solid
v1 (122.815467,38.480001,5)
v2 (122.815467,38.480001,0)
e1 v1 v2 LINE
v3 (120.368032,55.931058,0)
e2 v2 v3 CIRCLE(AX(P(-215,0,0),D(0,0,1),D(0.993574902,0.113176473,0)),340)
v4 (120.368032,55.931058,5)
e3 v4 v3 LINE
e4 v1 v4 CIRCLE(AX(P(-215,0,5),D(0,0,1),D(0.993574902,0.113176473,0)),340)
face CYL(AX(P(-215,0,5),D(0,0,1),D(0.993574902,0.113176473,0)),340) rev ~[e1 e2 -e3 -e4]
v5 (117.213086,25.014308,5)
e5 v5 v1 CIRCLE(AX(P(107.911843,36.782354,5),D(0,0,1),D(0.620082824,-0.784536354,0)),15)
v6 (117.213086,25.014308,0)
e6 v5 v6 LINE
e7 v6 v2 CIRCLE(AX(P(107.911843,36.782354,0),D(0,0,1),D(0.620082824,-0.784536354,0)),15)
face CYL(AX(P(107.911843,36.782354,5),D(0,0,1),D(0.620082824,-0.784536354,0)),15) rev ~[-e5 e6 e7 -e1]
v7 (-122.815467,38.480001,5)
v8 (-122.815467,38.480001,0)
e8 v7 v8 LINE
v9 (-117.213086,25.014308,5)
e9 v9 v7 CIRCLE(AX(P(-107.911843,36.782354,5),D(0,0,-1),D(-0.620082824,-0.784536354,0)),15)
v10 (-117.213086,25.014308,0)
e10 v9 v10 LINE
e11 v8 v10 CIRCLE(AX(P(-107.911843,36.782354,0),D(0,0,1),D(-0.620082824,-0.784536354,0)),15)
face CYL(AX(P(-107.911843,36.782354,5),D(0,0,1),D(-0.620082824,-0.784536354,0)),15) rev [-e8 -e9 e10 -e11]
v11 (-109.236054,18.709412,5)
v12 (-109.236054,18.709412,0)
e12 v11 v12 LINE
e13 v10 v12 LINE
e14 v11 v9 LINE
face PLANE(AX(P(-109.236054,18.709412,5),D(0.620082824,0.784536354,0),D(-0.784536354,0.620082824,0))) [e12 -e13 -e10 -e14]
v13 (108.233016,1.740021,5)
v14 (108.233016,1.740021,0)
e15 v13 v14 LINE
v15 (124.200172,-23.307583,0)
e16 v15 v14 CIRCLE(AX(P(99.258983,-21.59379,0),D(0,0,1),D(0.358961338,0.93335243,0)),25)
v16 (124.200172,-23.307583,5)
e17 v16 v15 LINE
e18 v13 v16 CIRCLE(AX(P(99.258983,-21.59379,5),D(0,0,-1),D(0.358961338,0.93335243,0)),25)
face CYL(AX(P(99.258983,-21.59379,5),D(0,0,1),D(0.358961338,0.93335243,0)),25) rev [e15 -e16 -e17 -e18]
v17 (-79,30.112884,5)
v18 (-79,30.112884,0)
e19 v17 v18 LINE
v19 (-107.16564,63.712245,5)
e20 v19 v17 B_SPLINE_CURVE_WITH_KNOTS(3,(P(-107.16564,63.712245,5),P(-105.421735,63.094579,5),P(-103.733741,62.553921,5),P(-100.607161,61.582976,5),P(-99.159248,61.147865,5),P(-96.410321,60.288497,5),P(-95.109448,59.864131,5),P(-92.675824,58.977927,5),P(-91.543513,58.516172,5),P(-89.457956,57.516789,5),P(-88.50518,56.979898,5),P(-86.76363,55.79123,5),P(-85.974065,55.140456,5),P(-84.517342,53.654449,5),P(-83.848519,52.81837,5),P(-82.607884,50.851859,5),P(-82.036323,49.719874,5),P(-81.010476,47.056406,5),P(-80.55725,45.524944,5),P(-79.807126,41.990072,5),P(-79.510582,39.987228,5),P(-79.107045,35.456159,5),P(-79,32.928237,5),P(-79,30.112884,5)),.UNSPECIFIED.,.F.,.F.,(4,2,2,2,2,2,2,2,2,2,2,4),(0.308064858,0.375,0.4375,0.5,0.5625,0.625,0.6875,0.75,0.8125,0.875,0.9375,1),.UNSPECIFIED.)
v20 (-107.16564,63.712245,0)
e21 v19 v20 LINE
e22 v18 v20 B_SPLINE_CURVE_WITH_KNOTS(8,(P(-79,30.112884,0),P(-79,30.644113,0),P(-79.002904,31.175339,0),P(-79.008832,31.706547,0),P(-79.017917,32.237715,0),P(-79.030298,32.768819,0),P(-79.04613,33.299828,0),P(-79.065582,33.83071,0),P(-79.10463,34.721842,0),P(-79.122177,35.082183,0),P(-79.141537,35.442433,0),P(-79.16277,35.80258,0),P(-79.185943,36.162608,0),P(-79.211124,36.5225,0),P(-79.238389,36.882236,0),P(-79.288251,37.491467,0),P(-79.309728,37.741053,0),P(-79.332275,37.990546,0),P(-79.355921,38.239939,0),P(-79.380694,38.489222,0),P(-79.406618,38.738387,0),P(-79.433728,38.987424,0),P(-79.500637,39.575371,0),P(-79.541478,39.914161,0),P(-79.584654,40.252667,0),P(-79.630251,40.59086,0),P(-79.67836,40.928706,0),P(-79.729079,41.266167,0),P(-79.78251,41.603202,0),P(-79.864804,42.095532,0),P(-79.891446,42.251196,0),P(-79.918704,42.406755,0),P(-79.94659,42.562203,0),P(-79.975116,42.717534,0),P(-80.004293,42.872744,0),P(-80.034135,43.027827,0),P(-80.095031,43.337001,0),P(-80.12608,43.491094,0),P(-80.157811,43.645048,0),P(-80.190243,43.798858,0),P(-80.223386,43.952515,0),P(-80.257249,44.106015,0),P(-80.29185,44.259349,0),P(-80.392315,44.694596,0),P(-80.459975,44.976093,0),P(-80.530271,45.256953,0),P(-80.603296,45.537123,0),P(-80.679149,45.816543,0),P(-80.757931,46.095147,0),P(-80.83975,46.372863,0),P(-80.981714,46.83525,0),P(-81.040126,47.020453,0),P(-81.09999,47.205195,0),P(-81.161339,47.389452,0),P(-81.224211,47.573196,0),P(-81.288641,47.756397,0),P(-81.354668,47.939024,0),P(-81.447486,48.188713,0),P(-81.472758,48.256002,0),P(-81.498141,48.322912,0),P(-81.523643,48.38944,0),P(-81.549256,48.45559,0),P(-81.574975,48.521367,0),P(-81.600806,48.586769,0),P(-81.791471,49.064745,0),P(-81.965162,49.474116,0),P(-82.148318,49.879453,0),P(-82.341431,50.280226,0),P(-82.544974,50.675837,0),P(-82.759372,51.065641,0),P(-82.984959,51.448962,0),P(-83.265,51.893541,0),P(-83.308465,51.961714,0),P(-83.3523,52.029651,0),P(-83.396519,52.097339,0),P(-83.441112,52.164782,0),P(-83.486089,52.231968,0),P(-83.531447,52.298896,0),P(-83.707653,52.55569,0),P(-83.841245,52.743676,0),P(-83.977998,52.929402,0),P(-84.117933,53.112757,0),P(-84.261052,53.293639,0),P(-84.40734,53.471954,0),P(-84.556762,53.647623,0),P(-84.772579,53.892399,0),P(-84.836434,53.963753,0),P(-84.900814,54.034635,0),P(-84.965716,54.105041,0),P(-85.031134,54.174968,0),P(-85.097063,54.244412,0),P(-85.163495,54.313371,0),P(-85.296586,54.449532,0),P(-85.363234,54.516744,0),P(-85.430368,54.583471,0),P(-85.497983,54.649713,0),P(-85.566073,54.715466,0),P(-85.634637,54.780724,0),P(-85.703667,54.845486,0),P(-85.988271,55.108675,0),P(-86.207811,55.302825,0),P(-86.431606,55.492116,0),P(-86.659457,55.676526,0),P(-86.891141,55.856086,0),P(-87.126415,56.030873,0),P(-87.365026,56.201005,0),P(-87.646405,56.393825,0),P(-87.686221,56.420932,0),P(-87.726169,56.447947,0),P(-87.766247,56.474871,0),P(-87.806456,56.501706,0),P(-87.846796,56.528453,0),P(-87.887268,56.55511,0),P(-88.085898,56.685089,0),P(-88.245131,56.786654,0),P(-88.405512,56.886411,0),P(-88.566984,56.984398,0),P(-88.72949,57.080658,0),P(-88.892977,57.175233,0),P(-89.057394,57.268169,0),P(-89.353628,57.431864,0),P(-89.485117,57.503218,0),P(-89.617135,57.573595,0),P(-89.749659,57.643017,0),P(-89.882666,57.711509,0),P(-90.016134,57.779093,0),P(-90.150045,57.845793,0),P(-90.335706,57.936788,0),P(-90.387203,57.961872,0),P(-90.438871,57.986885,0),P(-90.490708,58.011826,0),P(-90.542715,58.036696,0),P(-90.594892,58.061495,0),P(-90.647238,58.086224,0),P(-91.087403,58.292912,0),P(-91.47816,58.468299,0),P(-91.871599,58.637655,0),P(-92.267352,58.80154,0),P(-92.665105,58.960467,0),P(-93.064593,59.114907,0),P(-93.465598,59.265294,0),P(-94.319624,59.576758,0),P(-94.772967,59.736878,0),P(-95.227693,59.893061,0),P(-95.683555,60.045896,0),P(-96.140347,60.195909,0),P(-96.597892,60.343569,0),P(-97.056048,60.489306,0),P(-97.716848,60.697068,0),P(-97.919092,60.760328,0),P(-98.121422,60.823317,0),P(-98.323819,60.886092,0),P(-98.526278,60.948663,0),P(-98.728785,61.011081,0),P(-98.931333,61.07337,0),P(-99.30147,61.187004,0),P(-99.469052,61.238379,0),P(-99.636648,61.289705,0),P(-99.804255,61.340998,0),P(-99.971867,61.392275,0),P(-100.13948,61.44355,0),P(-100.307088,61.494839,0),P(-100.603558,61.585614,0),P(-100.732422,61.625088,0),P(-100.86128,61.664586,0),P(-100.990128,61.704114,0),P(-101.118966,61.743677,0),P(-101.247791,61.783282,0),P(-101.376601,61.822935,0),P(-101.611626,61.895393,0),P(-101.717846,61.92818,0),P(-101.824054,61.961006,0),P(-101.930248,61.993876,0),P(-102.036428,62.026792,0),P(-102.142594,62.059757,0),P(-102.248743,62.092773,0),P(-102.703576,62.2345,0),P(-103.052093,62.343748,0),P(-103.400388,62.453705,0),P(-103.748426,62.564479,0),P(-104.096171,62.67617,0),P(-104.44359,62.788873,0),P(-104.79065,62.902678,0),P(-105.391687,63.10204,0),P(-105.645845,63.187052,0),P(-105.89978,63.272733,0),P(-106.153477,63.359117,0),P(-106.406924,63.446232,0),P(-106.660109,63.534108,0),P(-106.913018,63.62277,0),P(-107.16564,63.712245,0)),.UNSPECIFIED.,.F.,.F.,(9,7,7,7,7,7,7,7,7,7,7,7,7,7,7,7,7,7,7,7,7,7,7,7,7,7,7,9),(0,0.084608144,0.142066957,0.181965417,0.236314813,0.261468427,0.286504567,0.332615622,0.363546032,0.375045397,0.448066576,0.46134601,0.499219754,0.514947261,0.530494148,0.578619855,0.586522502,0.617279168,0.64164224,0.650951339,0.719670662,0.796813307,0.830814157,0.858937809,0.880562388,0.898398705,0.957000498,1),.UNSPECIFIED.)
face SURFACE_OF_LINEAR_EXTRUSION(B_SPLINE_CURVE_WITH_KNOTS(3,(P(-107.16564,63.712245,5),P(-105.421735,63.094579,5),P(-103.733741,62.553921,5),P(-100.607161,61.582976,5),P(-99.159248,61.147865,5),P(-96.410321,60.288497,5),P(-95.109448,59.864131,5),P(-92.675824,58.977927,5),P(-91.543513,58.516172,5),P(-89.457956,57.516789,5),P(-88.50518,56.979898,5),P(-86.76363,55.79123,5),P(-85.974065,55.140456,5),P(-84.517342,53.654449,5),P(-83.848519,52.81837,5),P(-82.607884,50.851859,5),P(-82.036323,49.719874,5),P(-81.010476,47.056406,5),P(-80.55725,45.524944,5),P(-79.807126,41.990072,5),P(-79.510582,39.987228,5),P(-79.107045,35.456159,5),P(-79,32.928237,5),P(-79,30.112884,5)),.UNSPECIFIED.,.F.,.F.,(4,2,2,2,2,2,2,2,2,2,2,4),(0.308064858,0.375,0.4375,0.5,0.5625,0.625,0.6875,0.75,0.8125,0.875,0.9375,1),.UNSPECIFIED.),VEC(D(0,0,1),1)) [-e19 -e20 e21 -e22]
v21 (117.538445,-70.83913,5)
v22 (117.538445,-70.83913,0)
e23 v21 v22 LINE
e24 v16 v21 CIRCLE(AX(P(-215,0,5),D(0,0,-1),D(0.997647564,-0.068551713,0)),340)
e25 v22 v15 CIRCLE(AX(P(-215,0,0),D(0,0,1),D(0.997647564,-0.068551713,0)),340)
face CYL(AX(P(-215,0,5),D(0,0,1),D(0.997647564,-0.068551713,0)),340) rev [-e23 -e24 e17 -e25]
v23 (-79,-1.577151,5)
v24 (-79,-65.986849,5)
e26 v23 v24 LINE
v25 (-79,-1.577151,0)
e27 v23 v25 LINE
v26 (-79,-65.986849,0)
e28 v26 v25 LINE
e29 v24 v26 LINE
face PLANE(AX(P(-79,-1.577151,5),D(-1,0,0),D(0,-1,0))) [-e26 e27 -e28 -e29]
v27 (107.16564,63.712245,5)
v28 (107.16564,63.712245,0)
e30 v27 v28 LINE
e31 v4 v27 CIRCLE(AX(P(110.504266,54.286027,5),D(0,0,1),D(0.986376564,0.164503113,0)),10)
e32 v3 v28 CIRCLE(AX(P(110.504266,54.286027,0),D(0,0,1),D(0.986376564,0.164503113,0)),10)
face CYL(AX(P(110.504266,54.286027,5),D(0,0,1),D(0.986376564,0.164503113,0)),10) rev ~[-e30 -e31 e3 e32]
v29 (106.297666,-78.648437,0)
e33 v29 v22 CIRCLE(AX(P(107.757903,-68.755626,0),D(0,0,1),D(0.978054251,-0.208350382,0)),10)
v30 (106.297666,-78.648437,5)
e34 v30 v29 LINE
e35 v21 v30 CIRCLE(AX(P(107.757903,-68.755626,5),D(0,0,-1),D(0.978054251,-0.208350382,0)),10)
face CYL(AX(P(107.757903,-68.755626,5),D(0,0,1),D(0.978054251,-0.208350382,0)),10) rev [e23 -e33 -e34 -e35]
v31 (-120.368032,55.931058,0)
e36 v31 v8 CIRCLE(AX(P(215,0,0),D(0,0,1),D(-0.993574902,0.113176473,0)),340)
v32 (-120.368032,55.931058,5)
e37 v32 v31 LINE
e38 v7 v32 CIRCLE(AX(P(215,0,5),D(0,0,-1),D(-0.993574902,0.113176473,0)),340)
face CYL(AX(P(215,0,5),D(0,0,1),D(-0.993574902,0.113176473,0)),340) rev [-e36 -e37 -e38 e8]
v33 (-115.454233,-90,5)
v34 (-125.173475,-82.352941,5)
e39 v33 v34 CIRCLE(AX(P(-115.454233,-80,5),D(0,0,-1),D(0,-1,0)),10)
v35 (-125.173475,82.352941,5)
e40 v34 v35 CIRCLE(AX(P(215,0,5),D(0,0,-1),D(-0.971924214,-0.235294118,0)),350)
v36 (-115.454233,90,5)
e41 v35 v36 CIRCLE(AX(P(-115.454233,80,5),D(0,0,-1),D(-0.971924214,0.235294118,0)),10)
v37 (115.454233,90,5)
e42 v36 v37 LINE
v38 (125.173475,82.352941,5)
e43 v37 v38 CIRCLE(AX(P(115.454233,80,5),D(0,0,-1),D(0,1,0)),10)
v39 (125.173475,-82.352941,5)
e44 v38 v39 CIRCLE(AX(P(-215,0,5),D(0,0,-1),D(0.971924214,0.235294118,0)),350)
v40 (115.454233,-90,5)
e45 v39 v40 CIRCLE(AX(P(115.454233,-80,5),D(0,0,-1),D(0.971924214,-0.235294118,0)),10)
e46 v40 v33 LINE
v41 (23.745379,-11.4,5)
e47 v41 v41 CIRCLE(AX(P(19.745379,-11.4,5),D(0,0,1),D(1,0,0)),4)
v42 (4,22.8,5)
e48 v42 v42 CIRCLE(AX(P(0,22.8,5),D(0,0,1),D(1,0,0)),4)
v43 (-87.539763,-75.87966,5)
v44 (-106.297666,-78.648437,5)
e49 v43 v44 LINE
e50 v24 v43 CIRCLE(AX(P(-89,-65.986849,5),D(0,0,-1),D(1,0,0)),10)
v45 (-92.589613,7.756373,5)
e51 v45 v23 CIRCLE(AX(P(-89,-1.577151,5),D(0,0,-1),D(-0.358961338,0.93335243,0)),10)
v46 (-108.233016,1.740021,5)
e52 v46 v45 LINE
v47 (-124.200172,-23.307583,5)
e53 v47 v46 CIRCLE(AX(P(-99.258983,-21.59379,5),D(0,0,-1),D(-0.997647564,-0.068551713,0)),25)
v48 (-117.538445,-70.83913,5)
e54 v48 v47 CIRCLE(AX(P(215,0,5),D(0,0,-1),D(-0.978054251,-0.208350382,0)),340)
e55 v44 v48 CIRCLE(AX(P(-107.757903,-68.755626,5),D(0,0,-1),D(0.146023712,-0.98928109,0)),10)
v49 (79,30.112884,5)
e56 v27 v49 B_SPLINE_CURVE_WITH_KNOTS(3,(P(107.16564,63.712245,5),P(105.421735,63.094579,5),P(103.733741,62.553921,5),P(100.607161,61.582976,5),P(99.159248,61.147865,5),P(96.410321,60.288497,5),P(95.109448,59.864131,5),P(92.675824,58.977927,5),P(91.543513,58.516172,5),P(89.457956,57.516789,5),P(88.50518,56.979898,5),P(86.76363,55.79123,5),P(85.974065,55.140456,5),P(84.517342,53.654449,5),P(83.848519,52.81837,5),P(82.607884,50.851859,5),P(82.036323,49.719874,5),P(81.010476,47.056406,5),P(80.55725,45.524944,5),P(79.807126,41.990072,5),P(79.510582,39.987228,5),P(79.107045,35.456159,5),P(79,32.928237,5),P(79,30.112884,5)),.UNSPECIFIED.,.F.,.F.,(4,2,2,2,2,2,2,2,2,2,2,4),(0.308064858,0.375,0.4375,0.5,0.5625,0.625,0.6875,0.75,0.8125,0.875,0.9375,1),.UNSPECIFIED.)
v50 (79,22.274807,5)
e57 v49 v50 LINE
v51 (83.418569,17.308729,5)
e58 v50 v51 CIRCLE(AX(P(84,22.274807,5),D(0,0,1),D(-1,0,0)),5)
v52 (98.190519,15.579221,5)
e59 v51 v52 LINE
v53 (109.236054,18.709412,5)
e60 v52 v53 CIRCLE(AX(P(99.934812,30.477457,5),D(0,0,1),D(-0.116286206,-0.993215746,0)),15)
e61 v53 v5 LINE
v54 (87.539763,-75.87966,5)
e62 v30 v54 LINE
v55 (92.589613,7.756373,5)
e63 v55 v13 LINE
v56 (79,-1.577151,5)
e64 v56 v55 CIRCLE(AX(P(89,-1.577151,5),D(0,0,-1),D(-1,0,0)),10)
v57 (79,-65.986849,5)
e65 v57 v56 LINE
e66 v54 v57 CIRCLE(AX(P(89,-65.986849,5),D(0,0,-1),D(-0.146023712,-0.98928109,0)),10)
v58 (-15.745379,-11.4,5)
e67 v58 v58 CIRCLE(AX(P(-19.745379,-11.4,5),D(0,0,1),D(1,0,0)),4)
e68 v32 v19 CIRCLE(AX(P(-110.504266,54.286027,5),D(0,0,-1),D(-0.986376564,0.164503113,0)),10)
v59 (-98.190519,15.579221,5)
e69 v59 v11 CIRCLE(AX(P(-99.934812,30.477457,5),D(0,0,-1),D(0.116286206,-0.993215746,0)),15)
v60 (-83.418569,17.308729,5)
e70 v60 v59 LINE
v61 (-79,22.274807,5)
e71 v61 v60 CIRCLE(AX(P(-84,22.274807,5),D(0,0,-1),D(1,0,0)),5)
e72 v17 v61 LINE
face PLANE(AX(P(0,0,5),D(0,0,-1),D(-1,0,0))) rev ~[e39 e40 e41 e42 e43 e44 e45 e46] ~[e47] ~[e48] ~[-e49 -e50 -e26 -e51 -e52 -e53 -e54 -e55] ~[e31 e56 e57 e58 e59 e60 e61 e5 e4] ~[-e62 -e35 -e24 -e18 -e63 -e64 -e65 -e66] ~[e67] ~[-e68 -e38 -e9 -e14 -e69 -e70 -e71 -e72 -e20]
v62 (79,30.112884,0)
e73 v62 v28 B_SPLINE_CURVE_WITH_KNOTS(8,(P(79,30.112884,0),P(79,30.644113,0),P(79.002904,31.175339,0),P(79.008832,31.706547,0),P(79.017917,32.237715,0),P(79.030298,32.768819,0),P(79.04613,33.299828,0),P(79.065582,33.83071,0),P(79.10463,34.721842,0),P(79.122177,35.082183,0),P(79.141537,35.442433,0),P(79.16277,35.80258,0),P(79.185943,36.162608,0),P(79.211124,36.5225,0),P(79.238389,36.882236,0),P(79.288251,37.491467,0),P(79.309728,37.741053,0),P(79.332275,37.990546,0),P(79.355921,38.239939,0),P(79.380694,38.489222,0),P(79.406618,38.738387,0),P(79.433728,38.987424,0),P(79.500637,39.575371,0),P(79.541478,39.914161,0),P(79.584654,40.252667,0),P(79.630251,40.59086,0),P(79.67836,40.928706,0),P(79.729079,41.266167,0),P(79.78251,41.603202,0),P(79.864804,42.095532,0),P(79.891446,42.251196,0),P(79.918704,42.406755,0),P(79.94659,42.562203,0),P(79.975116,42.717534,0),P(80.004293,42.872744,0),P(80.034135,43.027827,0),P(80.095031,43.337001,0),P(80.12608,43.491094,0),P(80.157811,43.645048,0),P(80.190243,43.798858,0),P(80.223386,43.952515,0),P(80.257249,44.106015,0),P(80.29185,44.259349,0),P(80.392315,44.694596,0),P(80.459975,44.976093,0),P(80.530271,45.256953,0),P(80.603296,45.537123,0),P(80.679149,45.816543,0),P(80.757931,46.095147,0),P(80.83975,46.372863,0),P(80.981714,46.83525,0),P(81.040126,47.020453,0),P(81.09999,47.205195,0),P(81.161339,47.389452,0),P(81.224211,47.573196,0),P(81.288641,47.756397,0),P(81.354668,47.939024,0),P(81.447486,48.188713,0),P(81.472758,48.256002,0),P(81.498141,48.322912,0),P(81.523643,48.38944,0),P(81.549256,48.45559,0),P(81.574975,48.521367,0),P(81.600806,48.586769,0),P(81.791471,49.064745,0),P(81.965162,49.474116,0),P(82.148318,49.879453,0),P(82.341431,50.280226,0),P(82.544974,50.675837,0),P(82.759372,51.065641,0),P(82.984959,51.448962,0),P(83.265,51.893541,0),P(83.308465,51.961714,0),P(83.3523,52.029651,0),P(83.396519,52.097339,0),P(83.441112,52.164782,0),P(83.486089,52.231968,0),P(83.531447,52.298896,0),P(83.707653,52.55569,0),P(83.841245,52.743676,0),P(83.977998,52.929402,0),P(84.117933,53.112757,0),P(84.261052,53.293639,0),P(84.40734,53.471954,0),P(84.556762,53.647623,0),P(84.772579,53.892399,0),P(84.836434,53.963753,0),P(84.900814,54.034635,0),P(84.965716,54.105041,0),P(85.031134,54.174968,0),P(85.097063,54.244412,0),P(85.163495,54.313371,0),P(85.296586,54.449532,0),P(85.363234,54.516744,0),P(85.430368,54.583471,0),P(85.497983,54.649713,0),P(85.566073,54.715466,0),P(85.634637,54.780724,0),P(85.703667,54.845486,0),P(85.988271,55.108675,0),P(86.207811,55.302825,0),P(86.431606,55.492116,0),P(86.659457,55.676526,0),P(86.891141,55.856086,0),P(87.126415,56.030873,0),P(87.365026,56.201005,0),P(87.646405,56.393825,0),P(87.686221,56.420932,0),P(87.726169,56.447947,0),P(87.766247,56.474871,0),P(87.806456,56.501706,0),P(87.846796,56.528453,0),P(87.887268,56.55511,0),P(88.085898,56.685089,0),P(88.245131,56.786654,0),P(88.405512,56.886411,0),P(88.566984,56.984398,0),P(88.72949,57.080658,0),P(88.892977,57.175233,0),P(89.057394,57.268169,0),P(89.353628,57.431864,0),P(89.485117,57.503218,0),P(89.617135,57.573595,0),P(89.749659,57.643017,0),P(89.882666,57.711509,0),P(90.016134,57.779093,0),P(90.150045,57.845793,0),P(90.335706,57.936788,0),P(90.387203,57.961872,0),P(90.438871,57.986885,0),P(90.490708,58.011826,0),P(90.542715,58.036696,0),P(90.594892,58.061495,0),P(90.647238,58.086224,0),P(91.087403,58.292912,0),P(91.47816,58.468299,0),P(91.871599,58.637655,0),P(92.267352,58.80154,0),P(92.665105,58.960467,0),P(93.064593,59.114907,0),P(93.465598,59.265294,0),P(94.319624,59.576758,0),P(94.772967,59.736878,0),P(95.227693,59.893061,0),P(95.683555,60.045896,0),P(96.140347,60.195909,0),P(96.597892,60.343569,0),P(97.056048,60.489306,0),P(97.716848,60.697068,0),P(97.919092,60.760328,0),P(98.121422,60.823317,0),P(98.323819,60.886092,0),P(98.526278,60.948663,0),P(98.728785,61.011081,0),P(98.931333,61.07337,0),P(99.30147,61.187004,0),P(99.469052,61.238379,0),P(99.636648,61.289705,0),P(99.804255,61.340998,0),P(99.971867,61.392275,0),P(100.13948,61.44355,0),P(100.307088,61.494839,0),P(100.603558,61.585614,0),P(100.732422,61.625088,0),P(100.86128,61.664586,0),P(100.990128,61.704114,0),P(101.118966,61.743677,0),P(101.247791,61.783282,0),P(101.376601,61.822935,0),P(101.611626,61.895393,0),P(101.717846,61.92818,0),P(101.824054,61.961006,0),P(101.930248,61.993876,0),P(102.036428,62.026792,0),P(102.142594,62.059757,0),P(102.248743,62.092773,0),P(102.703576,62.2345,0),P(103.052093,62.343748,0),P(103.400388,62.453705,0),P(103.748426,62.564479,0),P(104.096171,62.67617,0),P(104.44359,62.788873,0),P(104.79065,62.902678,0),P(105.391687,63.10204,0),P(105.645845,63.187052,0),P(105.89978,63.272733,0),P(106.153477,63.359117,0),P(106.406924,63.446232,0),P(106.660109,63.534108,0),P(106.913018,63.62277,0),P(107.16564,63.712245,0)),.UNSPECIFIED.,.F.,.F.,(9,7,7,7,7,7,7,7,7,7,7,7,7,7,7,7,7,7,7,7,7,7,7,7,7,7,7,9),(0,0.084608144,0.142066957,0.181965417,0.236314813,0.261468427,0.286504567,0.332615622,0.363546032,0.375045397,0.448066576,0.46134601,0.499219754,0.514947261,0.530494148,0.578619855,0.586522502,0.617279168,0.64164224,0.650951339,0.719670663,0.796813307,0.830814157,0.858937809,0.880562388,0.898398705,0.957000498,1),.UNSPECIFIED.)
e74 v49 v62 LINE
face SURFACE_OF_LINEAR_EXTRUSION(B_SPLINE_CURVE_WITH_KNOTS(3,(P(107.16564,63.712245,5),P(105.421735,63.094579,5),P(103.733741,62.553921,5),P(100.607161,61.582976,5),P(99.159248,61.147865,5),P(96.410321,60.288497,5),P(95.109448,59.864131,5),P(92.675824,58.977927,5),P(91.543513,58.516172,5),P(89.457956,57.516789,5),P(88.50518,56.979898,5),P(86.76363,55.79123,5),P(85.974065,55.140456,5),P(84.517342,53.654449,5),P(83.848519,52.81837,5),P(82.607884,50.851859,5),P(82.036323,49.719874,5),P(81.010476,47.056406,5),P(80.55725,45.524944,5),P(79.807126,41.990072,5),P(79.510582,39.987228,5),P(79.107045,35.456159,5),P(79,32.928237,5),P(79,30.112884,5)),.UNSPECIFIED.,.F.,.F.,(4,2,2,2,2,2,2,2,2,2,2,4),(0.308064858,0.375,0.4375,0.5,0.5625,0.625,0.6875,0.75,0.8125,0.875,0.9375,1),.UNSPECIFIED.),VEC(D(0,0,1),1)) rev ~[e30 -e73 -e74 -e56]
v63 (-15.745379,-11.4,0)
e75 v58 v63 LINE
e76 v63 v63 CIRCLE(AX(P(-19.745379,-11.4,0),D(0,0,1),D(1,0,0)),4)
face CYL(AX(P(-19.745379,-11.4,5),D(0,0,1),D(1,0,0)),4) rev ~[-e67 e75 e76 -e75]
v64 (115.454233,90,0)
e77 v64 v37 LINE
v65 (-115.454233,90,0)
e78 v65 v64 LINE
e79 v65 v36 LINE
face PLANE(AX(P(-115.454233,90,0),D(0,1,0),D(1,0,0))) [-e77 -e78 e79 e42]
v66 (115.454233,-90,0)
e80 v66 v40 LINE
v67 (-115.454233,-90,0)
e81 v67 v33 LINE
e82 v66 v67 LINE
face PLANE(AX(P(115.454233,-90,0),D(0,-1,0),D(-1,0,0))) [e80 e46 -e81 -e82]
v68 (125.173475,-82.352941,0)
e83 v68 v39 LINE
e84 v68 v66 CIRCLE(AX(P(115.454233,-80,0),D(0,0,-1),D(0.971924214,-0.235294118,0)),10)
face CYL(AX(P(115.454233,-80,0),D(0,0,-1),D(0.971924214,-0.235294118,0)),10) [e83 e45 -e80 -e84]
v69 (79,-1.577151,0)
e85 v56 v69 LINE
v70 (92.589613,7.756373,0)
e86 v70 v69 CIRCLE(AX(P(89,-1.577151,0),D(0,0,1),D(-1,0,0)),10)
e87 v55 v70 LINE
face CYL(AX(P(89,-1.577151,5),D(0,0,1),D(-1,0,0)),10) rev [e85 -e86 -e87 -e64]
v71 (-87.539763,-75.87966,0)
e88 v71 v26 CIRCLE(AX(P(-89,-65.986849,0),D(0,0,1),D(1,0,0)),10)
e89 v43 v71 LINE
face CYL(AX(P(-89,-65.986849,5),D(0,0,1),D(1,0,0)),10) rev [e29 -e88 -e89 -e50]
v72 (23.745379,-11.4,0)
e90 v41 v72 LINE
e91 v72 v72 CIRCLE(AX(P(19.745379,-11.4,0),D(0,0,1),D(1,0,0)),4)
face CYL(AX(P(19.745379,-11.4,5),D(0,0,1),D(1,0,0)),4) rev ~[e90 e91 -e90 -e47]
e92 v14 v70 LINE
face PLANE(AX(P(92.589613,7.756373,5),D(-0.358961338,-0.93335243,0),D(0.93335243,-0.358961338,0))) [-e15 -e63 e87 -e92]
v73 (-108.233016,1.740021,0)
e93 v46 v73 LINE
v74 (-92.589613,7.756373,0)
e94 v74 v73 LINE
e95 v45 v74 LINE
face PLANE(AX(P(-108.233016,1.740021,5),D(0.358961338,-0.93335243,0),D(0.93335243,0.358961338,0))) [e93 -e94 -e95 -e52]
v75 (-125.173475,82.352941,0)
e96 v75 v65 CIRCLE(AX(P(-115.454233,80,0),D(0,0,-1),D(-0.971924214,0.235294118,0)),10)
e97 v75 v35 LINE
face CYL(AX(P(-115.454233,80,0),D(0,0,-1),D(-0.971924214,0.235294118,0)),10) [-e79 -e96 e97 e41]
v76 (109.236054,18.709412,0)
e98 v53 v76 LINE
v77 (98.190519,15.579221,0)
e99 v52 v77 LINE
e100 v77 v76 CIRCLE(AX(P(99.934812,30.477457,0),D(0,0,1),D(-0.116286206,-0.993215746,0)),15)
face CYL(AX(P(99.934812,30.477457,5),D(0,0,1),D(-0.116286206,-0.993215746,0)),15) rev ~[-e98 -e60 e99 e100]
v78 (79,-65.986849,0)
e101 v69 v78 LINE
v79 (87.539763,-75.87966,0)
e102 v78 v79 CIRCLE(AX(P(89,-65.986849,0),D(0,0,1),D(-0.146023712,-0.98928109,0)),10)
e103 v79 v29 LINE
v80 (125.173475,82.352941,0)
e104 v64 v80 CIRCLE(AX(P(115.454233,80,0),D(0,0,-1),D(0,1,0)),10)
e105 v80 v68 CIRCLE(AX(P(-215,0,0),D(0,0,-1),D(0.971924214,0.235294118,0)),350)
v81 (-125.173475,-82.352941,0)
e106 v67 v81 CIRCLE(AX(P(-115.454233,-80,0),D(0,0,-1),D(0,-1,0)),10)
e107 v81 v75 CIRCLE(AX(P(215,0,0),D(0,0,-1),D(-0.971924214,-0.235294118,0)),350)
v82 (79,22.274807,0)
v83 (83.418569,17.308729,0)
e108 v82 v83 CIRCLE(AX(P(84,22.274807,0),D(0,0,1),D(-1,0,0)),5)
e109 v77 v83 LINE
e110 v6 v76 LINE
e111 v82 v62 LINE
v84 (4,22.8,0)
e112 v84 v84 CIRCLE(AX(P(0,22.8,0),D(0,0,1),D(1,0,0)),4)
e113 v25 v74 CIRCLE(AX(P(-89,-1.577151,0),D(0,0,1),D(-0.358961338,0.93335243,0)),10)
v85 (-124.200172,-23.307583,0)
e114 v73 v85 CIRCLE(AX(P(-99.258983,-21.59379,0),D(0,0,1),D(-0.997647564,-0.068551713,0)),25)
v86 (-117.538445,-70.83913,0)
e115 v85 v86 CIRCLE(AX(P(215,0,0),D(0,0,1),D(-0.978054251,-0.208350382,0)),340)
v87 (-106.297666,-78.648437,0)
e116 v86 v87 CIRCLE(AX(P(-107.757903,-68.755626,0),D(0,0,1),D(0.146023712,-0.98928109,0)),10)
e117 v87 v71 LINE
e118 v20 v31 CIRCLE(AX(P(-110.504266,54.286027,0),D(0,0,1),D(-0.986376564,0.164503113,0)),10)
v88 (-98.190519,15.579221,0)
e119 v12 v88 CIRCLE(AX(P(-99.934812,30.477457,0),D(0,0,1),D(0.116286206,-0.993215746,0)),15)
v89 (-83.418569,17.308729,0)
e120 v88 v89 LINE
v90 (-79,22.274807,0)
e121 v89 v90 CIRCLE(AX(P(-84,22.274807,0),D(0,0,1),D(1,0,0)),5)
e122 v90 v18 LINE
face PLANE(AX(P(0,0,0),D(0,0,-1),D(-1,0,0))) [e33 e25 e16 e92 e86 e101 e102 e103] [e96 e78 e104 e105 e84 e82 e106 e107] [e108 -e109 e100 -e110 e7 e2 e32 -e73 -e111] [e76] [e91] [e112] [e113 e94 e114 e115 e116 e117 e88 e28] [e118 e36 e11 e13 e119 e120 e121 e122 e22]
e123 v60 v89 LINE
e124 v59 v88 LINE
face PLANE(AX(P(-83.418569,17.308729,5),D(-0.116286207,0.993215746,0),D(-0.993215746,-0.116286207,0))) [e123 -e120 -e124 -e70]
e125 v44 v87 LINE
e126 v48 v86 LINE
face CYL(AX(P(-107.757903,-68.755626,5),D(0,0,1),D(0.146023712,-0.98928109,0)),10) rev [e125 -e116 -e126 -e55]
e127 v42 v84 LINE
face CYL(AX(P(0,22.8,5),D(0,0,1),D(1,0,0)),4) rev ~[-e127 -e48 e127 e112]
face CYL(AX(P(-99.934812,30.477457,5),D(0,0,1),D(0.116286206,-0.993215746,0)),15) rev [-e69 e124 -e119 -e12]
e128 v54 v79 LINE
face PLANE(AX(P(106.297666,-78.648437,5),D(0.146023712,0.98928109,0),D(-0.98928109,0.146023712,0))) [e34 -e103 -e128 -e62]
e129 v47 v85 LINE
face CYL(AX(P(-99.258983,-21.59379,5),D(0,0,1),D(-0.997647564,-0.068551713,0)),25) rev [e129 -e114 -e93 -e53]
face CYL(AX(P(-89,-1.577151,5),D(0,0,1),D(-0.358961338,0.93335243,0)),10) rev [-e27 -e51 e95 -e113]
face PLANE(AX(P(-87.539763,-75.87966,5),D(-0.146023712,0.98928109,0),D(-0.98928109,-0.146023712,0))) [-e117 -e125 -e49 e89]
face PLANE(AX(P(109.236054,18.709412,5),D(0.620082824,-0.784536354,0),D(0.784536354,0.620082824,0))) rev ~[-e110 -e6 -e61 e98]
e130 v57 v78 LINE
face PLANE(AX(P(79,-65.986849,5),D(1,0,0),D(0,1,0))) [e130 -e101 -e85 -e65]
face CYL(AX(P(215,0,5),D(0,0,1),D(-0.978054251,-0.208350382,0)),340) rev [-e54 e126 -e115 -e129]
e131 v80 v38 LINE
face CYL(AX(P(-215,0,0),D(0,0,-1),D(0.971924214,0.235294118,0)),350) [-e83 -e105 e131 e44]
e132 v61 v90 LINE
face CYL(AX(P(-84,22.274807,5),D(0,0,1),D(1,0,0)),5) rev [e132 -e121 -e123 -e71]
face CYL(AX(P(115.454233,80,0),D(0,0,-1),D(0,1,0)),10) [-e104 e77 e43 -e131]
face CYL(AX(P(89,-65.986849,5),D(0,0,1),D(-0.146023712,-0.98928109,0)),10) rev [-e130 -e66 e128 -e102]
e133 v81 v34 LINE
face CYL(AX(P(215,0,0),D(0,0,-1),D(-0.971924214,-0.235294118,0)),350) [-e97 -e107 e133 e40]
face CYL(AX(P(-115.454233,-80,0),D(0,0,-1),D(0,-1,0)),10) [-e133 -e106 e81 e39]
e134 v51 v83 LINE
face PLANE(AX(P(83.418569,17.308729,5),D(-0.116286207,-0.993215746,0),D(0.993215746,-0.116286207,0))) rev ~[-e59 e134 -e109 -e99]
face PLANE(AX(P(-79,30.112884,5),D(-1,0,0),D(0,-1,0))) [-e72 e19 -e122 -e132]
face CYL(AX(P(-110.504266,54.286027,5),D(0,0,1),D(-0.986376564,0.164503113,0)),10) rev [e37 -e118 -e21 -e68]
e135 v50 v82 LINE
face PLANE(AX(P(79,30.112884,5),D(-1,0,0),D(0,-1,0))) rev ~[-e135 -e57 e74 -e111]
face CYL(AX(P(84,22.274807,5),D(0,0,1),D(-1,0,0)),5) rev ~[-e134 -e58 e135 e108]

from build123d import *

# Parameters (mm, degrees)
BOSS_EXTRUDE1_DEPTH = 5
SKETCH2_R           = 4
CUT_EXTRUDE1_DEPTH  = 5
CUT_EXTRUDE4_DEPTH  = 35


with BuildPart() as part:
    # Sketch1 → Boss-Extrude1 (new body)
    with BuildSketch(Plane.XY):
        with BuildLine():
            Line((115.454232837, -90), (-115.454232837, -90))
            ThreePointArc((-115.454232837, -90), (-121.637702261, -87.85905248), (-125.173474979, -82.352941176))
            ThreePointArc((-125.173474979, -82.352941176), (-135, 0), (-125.173474979, 82.352941176))
            ThreePointArc((-125.173474979, 82.352941176), (-121.637702261, 87.85905248), (-115.454232837, 90))
            Line((-115.454232837, 90), (115.454232837, 90))
            ThreePointArc((115.454232837, 90), (121.637702261, 87.85905248), (125.173474979, 82.352941176))
            ThreePointArc((125.173474979, 82.352941176), (135, 0), (125.173474979, -82.352941176))
            ThreePointArc((125.173474979, -82.352941176), (121.637702261, -87.85905248), (115.454232837, -90))
        make_face()
    extrude(amount=BOSS_EXTRUDE1_DEPTH)

    # Sketch2 → Cut-Extrude1 (cut)
    with BuildSketch(Plane.XY.offset(5)):
        with Locations((0, 22.8)):
            Circle(SKETCH2_R)
        with Locations((19.745379206, -11.4)):
            Circle(SKETCH2_R)
        with Locations((-19.745379206, -11.4)):
            Circle(SKETCH2_R)
    extrude(amount=-CUT_EXTRUDE1_DEPTH, mode=Mode.SUBTRACT)

    # Sketch4 → Cut-Extrude4 (cut)
    with BuildSketch(Plane.XY.offset(5)):
        with BuildLine():
            Line((92.589613382, 7.756373084), (108.233016215, 1.740021021))
            ThreePointArc((108.233016215, 1.740021021), (120.339926562, -8.155270139), (124.200171868, -23.307582551))
            ThreePointArc((124.200171868, -23.307582551), (121.709079907, -47.191053261), (117.538445446, -70.839129726))
            ThreePointArc((117.538445446, -70.839129726), (113.463443203, -76.968226609), (106.297665816, -78.648436814))
            Line((106.297665816, -78.648436814), (87.539762883, -75.879659935))
            ThreePointArc((87.539762883, -75.879659935), (81.430245342, -72.521282016), (79, -65.986849032))
            Line((79, -65.986849032), (79, -1.577151211))
            ThreePointArc((79, -1.577151211), (83.338557331, 6.665910532), (92.589613382, 7.756373084))
        make_face()
        with BuildLine():
            ThreePointArc((-92.589613382, 7.756373084), (-83.338557331, 6.665910532), (-79, -1.577151211))
            Line((-79, -1.577151211), (-79, -65.986849032))
            ThreePointArc((-79, -65.986849032), (-81.430245342, -72.521282016), (-87.539762883, -75.879659935))
            Line((-87.539762883, -75.879659935), (-106.297665816, -78.648436814))
            ThreePointArc((-106.297665816, -78.648436814), (-113.463443203, -76.968226609), (-117.538445446, -70.839129726))
            ThreePointArc((-117.538445446, -70.839129726), (-121.709079907, -47.191053261), (-124.200171868, -23.307582551))
            ThreePointArc((-124.200171868, -23.307582551), (-120.339926562, -8.155270139), (-108.233016215, 1.740021021))
            Line((-108.233016215, 1.740021021), (-92.589613382, 7.756373084))
        make_face()
        with BuildLine():
            add(Edge.make_bspline(
                [(-107.1656403, 63.712244747), (-105.421734613, 63.094579339), (-103.733740594, 62.553921113), (-100.607161167, 61.582975733), (-99.159247663, 61.147865372), (-96.410321129, 60.288497128), (-95.109448347, 59.864130878), (-92.675824035, 58.977926734), (-91.543513421, 58.51617249), (-89.457956468, 57.516788843), (-88.505180062, 56.979898005), (-86.763629608, 55.791229907), (-85.974064887, 55.140456421), (-84.517341855, 53.654449203), (-83.848519279, 52.818369685), (-82.607884183, 50.851859219), (-82.036322501, 49.719874222), (-81.010476423, 47.056406193), (-80.557249512, 45.52494381), (-79.807126347, 41.990071718), (-79.510581534, 39.987228491), (-79.107044911, 35.456158677), (-79, 32.928236614), (-79, 30.112884289)],
                knots=[0.308064858, 0.308064858, 0.308064858, 0.308064858, 0.375, 0.375, 0.4375, 0.4375, 0.5, 0.5, 0.5625, 0.5625, 0.625, 0.625, 0.6875, 0.6875, 0.75, 0.75, 0.8125, 0.8125, 0.875, 0.875, 0.9375, 0.9375, 1, 1, 1, 1], degree=3))
            Line((-79, 30.112884289), (-79, 22.274807415))
            ThreePointArc((-79, 22.274807415), (-80.264551221, 18.95119155), (-83.418568967, 17.308728685))
            Line((-83.418568967, 17.308728685), (-98.190518564, 15.579221284))
            ThreePointArc((-98.190518564, 15.579221284), (-104.024603132, 16.045769918), (-109.236054023, 18.709412158))
            Line((-109.236054023, 18.709412158), (-117.213085535, 25.01430829))
            ThreePointArc((-117.213085535, 25.01430829), (-121.761034531, 31.020418271), (-122.815466707, 38.480000696))
            ThreePointArc((-122.815466707, 38.480000696), (-121.704826963, 47.22138816), (-120.368031746, 55.931058302))
            ThreePointArc((-120.368031746, 55.931058302), (-115.58177318, 62.901067623), (-107.1656403, 63.712244747))
        make_face()
        with BuildLine():
            add(Edge.make_bspline(
                [(107.1656403, 63.712244747), (105.421734613, 63.094579339), (103.733740594, 62.553921113), (100.607161167, 61.582975733), (99.159247663, 61.147865372), (96.410321129, 60.288497128), (95.109448347, 59.864130878), (92.675824035, 58.977926734), (91.543513421, 58.51617249), (89.457956468, 57.516788843), (88.505180062, 56.979898005), (86.763629608, 55.791229907), (85.974064887, 55.140456421), (84.517341855, 53.654449203), (83.848519279, 52.818369685), (82.607884183, 50.851859219), (82.036322501, 49.719874222), (81.010476423, 47.056406193), (80.557249512, 45.52494381), (79.807126347, 41.990071718), (79.510581534, 39.987228491), (79.107044911, 35.456158677), (79, 32.928236614), (79, 30.112884289)],
                knots=[0.308064858, 0.308064858, 0.308064858, 0.308064858, 0.375, 0.375, 0.4375, 0.4375, 0.5, 0.5, 0.5625, 0.5625, 0.625, 0.625, 0.6875, 0.6875, 0.75, 0.75, 0.8125, 0.8125, 0.875, 0.875, 0.9375, 0.9375, 1, 1, 1, 1], degree=3))
            Line((79, 30.112884289), (79, 22.274807415))
            ThreePointArc((79, 22.274807415), (80.264551221, 18.95119155), (83.418568967, 17.308728685))
            Line((83.418568967, 17.308728685), (98.190518564, 15.579221284))
            ThreePointArc((98.190518564, 15.579221284), (104.024603132, 16.045769918), (109.236054023, 18.709412158))
            Line((109.236054023, 18.709412158), (117.213085535, 25.01430829))
            ThreePointArc((117.213085535, 25.01430829), (121.761034531, 31.020418271), (122.815466707, 38.480000696))
            ThreePointArc((122.815466707, 38.480000696), (121.704826963, 47.22138816), (120.368031746, 55.931058302))
            ThreePointArc((120.368031746, 55.931058302), (115.58177318, 62.901067623), (107.1656403, 63.712244747))
        make_face()
    extrude(amount=-CUT_EXTRUDE4_DEPTH, mode=Mode.SUBTRACT)


solid = part.part
